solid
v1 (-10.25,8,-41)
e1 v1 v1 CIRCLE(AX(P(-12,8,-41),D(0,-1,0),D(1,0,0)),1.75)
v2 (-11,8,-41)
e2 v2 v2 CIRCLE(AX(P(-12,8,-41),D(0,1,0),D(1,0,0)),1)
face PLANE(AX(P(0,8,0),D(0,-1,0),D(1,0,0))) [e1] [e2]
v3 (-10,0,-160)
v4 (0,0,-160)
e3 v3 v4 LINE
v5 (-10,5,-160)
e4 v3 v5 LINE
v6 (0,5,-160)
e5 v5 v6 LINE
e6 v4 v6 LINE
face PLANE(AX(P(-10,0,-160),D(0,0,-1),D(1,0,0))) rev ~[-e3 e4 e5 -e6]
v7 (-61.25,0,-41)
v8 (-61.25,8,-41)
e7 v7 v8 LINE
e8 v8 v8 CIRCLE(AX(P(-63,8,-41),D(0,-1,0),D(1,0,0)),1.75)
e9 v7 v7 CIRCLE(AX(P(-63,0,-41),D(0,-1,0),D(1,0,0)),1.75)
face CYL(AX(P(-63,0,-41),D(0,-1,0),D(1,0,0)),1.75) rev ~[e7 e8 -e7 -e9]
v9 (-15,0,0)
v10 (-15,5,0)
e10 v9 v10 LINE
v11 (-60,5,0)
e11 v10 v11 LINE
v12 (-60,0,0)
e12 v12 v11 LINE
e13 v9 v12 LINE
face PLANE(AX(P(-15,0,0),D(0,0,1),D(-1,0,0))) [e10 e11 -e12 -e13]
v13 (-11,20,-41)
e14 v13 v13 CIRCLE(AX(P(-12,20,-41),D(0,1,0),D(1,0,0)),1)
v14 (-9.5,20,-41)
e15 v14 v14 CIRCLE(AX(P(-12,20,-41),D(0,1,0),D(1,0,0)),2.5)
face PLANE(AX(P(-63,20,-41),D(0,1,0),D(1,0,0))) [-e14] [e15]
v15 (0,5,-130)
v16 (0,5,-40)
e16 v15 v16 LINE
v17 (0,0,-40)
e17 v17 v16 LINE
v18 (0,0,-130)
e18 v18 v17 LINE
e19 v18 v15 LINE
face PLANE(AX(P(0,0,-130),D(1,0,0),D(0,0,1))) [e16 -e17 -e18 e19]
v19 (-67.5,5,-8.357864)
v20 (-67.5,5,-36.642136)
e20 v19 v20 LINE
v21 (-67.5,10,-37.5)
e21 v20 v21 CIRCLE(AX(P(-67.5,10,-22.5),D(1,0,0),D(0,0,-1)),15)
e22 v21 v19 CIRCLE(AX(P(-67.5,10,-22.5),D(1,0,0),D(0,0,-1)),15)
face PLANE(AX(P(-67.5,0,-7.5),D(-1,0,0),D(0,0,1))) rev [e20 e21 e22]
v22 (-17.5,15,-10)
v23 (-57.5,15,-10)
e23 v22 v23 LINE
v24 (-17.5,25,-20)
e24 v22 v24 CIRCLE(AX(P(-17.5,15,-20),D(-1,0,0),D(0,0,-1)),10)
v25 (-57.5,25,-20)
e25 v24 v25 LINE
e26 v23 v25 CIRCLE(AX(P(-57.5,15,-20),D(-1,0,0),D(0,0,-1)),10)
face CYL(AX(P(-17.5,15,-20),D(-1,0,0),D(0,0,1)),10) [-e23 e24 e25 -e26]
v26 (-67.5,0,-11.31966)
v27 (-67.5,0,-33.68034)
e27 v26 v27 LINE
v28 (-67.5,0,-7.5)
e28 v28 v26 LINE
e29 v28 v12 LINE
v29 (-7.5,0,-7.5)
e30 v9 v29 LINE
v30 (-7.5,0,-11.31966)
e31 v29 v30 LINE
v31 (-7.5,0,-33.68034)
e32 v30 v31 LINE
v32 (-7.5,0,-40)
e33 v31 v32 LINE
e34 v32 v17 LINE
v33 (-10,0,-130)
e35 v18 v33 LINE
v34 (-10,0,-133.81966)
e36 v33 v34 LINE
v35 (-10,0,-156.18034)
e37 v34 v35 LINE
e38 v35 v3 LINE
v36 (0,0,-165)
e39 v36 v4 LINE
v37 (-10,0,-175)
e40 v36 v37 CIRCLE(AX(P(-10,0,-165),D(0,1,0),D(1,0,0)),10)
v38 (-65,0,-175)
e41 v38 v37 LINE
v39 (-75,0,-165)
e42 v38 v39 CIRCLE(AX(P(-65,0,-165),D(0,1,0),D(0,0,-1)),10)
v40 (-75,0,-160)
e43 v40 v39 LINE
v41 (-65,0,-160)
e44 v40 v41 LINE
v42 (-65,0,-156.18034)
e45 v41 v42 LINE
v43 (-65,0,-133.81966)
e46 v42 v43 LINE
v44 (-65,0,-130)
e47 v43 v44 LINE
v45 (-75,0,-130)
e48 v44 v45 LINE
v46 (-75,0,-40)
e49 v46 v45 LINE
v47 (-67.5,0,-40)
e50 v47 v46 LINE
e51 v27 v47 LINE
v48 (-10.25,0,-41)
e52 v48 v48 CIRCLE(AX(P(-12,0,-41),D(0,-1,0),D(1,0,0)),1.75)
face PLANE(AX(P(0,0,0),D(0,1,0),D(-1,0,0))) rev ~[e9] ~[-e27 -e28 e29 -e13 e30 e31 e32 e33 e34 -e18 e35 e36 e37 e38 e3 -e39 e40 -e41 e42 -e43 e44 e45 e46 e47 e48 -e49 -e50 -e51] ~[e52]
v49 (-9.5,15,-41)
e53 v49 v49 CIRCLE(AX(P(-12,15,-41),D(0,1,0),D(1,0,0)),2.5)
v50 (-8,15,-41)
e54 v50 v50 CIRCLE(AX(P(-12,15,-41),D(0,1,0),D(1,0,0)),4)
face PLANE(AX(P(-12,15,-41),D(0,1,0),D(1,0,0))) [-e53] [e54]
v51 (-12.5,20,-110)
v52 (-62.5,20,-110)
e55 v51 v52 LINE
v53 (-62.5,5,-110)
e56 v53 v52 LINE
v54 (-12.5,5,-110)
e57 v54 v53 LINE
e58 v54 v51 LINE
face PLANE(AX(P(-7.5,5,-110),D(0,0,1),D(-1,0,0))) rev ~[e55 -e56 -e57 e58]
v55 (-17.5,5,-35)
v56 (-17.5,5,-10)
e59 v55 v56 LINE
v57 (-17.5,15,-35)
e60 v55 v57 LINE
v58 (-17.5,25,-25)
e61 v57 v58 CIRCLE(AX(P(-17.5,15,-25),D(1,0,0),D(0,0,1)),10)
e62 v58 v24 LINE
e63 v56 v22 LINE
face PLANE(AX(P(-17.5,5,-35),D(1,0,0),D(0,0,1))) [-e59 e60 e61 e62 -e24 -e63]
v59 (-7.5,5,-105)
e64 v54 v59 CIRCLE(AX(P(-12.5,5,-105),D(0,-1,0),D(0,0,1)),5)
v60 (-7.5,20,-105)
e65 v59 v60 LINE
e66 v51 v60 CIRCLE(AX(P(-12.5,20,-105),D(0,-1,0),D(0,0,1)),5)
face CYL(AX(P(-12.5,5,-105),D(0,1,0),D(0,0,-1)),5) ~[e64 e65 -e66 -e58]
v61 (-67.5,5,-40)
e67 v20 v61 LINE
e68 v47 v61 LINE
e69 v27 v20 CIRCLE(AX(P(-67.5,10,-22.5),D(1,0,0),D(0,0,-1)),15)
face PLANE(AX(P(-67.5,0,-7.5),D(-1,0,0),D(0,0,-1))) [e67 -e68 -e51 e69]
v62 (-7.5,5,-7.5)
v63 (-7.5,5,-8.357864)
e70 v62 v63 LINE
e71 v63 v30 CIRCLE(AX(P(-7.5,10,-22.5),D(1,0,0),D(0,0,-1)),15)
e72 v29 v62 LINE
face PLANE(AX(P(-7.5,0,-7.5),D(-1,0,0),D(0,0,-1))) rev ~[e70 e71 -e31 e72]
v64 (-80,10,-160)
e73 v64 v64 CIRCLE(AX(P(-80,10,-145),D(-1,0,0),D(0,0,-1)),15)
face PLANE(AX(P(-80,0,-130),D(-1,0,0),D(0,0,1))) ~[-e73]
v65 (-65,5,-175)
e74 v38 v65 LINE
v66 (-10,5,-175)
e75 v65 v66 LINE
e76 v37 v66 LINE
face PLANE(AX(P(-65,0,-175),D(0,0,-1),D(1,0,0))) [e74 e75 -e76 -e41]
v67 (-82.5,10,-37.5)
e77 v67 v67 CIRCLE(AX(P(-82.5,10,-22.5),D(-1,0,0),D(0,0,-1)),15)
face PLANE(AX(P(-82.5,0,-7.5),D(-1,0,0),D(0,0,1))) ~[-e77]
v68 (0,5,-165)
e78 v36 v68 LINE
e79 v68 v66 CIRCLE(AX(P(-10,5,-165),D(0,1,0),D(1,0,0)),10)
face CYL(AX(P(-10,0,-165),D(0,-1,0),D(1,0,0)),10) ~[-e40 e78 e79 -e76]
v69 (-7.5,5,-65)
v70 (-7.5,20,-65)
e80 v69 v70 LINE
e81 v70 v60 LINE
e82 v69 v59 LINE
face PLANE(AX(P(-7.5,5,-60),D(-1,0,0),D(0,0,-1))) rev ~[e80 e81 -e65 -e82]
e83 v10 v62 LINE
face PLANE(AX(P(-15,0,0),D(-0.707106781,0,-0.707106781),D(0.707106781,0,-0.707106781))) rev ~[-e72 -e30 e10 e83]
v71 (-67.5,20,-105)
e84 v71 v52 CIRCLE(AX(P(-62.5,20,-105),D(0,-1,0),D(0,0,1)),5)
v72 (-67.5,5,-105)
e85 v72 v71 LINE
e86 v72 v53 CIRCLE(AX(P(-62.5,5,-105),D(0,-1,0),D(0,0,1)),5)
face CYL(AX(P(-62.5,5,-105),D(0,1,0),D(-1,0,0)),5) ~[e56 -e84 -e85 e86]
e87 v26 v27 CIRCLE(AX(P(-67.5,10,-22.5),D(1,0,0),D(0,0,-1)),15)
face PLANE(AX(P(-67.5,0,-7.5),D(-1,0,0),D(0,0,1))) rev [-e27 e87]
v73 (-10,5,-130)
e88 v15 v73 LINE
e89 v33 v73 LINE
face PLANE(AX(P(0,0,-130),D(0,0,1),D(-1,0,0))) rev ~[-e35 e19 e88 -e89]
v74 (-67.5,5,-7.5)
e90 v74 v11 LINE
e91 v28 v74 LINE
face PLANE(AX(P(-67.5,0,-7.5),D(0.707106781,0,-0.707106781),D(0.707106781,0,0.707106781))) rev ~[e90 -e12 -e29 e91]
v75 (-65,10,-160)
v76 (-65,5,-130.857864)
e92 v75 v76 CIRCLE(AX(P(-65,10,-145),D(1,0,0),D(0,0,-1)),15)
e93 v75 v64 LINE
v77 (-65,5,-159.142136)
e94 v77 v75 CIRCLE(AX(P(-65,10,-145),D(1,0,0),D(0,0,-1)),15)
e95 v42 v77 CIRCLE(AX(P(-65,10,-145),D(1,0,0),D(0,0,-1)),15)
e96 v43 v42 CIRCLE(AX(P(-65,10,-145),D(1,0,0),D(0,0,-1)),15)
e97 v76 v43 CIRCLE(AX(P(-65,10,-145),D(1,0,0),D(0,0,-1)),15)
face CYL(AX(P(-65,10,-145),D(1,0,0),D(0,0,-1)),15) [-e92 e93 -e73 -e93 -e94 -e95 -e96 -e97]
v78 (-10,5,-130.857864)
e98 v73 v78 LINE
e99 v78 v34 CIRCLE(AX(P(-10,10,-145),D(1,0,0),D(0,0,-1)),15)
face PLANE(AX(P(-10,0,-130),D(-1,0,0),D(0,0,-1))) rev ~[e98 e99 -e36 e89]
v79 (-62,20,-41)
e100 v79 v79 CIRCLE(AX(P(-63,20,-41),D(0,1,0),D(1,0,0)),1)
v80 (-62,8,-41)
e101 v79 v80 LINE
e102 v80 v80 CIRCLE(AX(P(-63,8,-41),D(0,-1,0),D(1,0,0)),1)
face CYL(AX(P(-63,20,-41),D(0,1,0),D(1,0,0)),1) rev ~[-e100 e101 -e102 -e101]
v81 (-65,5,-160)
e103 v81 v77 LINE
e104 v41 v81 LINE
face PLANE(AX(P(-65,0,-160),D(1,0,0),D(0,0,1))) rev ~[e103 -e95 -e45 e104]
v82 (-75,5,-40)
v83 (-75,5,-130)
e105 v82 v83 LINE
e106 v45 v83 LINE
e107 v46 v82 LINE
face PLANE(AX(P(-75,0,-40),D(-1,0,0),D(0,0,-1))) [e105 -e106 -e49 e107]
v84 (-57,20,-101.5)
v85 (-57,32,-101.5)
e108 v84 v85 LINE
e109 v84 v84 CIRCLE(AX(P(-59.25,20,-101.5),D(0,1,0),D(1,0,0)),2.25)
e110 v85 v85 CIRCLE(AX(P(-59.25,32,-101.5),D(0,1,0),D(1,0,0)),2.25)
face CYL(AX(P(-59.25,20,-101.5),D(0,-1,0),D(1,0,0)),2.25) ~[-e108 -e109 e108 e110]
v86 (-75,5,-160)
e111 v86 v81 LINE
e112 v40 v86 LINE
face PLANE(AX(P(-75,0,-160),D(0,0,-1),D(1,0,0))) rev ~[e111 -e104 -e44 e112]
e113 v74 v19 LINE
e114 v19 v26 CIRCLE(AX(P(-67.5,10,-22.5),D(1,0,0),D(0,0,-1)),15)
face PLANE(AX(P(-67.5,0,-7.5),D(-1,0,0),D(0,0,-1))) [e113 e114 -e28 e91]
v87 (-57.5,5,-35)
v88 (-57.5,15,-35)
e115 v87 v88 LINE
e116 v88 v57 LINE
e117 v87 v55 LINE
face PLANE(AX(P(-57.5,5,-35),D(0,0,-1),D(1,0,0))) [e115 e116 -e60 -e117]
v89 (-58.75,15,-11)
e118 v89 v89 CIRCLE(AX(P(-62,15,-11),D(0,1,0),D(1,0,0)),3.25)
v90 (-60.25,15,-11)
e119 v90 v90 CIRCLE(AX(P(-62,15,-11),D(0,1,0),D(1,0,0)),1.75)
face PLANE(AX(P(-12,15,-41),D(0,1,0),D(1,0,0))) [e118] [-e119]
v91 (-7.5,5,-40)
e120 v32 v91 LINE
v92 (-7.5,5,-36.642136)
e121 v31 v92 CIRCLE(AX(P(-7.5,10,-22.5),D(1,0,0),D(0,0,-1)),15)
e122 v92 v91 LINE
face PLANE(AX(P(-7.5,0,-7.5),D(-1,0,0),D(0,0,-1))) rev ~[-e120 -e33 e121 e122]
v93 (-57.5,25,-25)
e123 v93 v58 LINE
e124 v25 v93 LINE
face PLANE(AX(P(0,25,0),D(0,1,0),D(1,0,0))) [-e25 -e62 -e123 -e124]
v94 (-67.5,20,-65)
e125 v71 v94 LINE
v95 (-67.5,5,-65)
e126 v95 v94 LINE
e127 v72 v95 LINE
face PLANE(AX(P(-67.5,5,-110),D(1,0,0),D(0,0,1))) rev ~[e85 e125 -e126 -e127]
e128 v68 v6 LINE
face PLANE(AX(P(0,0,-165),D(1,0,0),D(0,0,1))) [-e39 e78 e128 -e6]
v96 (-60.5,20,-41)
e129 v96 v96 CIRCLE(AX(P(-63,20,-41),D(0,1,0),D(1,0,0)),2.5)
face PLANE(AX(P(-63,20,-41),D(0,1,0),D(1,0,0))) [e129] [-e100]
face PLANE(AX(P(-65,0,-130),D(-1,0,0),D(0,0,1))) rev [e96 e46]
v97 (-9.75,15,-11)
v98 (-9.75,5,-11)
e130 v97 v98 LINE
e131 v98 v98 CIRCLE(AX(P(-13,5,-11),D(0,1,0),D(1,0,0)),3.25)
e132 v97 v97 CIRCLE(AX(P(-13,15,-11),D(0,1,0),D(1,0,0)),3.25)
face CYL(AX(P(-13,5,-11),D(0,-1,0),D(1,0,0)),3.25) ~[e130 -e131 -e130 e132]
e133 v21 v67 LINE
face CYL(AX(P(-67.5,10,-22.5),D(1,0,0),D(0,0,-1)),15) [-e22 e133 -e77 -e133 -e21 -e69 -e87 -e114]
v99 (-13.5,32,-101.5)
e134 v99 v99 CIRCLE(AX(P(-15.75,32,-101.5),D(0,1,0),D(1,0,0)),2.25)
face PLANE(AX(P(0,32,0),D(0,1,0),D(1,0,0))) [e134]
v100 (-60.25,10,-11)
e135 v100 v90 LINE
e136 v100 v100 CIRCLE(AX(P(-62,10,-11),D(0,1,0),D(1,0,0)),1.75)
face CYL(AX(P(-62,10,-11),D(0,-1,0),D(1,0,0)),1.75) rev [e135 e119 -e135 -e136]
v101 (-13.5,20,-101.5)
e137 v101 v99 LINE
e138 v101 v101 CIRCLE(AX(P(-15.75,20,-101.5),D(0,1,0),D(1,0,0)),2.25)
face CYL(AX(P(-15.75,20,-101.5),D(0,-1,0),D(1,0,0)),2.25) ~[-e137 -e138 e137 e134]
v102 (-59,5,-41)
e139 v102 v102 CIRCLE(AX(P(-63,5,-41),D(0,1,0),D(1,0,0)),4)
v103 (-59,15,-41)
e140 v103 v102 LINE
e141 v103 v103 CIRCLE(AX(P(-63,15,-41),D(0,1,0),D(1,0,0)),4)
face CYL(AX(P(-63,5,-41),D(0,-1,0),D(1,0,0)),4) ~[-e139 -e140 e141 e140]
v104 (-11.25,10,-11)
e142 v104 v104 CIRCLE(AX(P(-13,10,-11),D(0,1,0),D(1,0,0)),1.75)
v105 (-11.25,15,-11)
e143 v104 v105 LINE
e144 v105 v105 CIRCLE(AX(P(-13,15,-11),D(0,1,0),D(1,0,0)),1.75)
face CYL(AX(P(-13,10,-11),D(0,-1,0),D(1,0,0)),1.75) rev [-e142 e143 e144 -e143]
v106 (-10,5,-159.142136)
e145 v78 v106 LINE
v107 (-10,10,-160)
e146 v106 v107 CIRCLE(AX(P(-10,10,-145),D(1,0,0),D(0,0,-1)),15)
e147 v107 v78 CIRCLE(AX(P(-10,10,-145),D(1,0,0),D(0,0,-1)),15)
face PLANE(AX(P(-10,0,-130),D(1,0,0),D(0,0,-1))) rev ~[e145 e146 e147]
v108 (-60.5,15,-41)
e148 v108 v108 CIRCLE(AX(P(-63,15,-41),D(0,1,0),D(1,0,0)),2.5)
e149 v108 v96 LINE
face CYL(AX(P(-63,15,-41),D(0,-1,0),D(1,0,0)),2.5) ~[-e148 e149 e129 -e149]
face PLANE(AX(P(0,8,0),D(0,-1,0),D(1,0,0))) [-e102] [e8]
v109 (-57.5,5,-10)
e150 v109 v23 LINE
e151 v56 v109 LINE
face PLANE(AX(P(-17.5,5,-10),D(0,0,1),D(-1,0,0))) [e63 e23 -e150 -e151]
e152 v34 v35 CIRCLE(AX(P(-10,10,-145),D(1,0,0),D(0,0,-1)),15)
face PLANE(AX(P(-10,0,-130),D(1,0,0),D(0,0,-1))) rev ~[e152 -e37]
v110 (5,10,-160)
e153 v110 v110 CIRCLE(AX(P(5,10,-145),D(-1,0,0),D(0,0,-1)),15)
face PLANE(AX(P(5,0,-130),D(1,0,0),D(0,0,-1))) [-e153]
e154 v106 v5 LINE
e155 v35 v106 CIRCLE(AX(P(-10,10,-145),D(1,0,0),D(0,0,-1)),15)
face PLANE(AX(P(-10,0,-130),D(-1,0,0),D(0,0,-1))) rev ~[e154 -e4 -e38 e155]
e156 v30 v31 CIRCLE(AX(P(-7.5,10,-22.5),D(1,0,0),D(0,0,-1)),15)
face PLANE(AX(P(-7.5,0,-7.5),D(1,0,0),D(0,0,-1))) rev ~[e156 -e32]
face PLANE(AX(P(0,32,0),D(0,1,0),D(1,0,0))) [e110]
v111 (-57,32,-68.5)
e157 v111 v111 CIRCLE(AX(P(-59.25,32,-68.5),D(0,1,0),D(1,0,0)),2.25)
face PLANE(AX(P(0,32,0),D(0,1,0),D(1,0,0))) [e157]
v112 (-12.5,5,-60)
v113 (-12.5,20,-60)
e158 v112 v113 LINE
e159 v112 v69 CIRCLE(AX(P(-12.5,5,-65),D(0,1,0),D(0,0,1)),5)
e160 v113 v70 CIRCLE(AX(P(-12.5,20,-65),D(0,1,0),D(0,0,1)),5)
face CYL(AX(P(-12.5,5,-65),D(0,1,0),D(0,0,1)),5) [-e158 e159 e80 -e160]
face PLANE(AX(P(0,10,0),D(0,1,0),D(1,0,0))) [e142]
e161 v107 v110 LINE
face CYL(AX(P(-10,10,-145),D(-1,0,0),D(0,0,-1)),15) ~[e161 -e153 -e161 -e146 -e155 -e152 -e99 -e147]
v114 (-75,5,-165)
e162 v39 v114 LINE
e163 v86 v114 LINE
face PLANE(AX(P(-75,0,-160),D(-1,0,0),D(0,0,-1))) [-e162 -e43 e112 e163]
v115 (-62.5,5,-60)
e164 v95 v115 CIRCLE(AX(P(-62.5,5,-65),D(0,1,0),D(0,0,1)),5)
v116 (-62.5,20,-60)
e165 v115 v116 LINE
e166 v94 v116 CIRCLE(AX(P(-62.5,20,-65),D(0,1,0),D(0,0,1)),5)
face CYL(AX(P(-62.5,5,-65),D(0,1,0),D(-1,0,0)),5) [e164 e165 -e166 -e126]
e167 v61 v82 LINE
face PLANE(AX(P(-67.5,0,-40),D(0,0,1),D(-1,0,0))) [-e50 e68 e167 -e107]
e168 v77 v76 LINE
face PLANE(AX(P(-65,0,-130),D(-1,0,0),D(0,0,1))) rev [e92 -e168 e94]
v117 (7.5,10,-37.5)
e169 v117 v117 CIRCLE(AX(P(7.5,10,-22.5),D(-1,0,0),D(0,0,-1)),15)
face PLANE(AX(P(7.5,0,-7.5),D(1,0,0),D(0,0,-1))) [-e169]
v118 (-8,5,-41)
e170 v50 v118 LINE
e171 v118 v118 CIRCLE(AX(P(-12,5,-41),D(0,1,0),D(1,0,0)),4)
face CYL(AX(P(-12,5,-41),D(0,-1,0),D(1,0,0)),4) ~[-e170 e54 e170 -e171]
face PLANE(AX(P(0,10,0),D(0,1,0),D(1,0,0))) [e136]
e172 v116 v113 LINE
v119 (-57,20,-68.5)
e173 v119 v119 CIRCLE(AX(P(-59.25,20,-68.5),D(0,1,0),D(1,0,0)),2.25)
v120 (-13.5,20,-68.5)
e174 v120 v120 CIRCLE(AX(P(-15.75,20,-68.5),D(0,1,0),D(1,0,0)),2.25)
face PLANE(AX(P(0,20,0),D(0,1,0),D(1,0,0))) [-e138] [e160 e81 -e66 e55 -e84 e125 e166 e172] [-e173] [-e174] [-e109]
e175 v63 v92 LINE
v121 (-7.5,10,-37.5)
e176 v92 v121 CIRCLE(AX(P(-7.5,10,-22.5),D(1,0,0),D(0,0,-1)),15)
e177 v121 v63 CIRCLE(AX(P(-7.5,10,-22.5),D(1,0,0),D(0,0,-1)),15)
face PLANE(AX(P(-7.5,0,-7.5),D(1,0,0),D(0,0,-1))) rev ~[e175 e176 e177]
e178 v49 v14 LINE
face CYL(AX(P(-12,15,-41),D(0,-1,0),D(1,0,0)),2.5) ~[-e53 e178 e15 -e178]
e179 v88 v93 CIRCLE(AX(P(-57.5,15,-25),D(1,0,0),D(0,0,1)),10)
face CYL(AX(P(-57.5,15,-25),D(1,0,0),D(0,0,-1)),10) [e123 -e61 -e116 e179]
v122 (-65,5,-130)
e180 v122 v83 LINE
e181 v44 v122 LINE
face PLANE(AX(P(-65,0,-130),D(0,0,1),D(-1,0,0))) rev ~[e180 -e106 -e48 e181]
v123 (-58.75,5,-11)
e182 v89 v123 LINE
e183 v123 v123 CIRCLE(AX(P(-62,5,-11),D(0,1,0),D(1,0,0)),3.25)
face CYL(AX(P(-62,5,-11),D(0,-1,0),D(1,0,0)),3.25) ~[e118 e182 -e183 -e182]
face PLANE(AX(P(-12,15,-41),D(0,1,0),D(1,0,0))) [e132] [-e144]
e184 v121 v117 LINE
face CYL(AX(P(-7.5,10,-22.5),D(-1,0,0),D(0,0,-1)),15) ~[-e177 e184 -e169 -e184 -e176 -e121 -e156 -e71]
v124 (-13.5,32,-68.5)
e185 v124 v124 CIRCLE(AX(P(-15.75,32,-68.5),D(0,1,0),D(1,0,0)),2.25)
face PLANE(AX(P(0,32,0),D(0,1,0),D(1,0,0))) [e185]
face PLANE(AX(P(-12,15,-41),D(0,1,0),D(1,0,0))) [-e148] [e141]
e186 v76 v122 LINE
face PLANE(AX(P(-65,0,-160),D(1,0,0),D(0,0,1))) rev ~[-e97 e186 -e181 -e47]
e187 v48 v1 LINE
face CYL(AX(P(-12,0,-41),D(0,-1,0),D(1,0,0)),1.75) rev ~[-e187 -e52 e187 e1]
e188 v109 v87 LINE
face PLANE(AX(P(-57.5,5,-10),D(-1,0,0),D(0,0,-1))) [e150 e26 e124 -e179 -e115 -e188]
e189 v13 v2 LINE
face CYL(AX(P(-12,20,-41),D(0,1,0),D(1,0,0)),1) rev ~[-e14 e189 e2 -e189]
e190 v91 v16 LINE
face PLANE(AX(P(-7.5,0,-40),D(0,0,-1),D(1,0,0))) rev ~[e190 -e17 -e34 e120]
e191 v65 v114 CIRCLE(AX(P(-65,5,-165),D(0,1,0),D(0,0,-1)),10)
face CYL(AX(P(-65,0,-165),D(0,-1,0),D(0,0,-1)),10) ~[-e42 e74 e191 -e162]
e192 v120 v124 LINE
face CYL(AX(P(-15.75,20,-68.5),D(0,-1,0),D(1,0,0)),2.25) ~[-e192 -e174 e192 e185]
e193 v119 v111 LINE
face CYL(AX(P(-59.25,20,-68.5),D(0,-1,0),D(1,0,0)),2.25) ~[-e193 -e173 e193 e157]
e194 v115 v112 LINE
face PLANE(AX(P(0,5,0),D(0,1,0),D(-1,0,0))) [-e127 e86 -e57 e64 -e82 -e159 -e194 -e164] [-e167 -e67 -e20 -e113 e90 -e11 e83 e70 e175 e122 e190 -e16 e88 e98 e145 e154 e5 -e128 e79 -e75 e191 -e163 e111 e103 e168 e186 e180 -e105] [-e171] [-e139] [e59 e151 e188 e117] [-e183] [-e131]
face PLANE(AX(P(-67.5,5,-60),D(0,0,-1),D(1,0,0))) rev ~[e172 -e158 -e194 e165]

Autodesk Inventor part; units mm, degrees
ref_plane "XZ Plane" through (0, 0, 0) normal (0, 1, 0) x (-1, 0, 0)
ref_plane "XY Plane" through (0, 0, 0) normal (0, 0, 1) x (1, 0, 0)
sketch "Sketch6" plane through (0, 0, 0) normal (0, 1, 0) x (-1, 0, 0)
  line L0 (15, 0) -> (60, 0)
  line L1 (75, -15) -> (75, -165)
  line L2 (65, -175) -> (10, -175)
  line L3 (0, -165) -> (0, -15)
  line L4 (75, -15) -> (60, 0)
  line L5 (15, 0) -> (0, -15)
  arc A0 (65, -175) -> (75, -165) centre (65, -165) ccw
  arc A1 (0, -165) -> (10, -175) centre (10, -165) ccw
  line L6 (7.5, -7.5) -> (7.5, -40)
  line L7 (7.5, -40) -> (0, -40)
  line L8 (67.5, -7.5) -> (67.5, -40)
  line L9 (67.5, -40) -> (75, -40)
  line L10 (75, -160) -> (65, -160)
  line L11 (65, -160) -> (65, -130)
  line L12 (65, -130) -> (75, -130)
  line L13 (75, -130) -> (75, -160)
  line L14 (0, -130) -> (10, -130)
  line L15 (10, -130) -> (10, -160)
  line L16 (10, -160) -> (0, -160)
  line L17 (0, -160) -> (0, -130)
  point P0 (0, 0)
  point P1 (75, -175)
  point P2 (75, 0)
  point P3 (0, -175)
  point P4 (71.25, -40)
  point P5 (70, -160)
  point P6 (0, -160)
  dimension "d30" = 75
  dimension "d31" = 175
  dimension "d32" = 15
  dimension "d33" = 15
  dimension "d34" = 15
  dimension "d35" = 15
  dimension "d36" = 10
  dimension "d37" = 40
  dimension "d38" = 10
  dimension "d39" = 10
  dimension "d40" = 15
  dimension "d41" = 30
extrude "Extrusion5" add sketch "Sketch6" along normal blind 5 contours L0 L4 L8 L9 L1 L12 L11 L10 A0 L2 A1 L3 L16 L15 L14 L7 L6 L5
sketch "Sketch7" plane through (0, 5, 0) normal (0, 1, 0) x (1, 0, 0)
  line L0 (-67.5, 60) -> (-7.5, 60)
  line L1 (-7.5, 60) -> (-7.5, 110)
  line L2 (-7.5, 110) -> (-67.5, 110)
  line L3 (-67.5, 110) -> (-67.5, 60)
  line L4 (-75, 130) -> (-75, 40) projected
  line L5 (-65, 130) -> (-75, 130) projected
  point P0 (0, 0)
  dimension "d44" = 60
  dimension "d45" = 50
  dimension "d46" = 7.5
  dimension "d47" = 20
extrude "Extrusion6" add sketch "Sketch7" along normal blind 15
sketch "Sketch8" plane through (0, 5, 0) normal (0, 1, 0) x (1, 0, 0)
  line L0 (-57.5, 35) -> (-17.5, 35)
  line L1 (-17.5, 35) -> (-17.5, 10)
  line L2 (-17.5, 10) -> (-57.5, 10)
  line L3 (-57.5, 10) -> (-57.5, 35)
  line L4 (-7.5, 7.5) -> (-7.5, 40) projected
  line L5 (-60, 0) -> (-15, 0) projected
  point P0 (0, 0)
  dimension "d50" = 25
  dimension "d51" = 40
  dimension "d52" = 10
  dimension "d53" = 10
extrude "Extrusion7" add sketch "Sketch8" along normal blind 20
fillet "Fillet2" radius 10 2 edges at (-37.5, 25, -35) (-37.5, 25, -10)
sketch "Sketch9" plane through (-10, 0, -130) normal (1, 0, 0) x (0, 0, -1)
  circle A0 centre (15, 10) radius 15
  line L0 (0, 0) -> (0, 5) projected
  line L1 (0, 0) -> (30, 0) projected
  point P0 (3.8197, 0)
  point P1 (26.1803, 0)
  dimension "d57" = 30
  dimension "d58" = 15
  dimension "d59" = 10
extrude "Extrusion8" add sketch "Sketch9" along normal blind 15
ref_plane "Work Plane1" through (-37.5, 0, 0) normal (1, 0, 0) x (0, 1, 0)
mirror "Mirror1" about plane through (-37.5, 0, 0) normal (1, 0, 0) of "Extrusion8"
sketch "Sketch10" plane through (-7.5, 0, -7.5) normal (1, 0, 0) x (0, 0, -1)
  circle A0 centre (15, 10) radius 15
  line L0 (0, 0) -> (0, 5) projected
  line L1 (0, 0) -> (32.5, 0) projected
  point P0 (-7.5, 0)
  point P1 (3.8197, 0)
  point P2 (26.1803, 0)
  dimension "d66" = 30
  dimension "d67" = 15
  dimension "d68" = 10
extrude "Extrusion9" add sketch "Sketch10" along normal blind 15
mirror "Mirror2" about plane through (-37.5, 0, 0) normal (1, 0, 0) of "Extrusion9"
fillet "Fillet3" radius 5 4 edges at (-7.5, 12.5, -60) (-7.5, 12.5, -110) (-67.5, 12.5, -110) (-67.5, 12.5, -60)
sketch "Sketch12" plane through (0, 20, 0) normal (0, 1, 0) x (1, 0, 0)
  circle A0 centre (-59.25, 68.5) radius 2.25
  circle A1 centre (-59.25, 101.5) radius 2.25
  circle A2 centre (-15.75, 68.5) radius 2.25
  circle A3 centre (-15.75, 101.5) radius 2.25
  line L0 (-62.5, 60) -> (-12.5, 60) projected
  line L1 (-67.5, 105) -> (-67.5, 65) projected
  point P0 (0, 0)
  dimension "d72" = 4.5
  dimension "d73" = 4.5
  dimension "d74" = 4.5
  dimension "d75" = 4.5
  dimension "d76" = 43.5
  dimension "d77" = 33
  dimension "d78" = 8.5
  dimension "d79" = 8.25
extrude "Extrusion10" add sketch "Sketch12" along normal blind 12
sketch "Sketch14" plane through (0, 5, 0) normal (0, 1, 0) x (1, 0, 0)
  circle A0 centre (-63, 41) radius 4
  circle A1 centre (-12, 41) radius 4
  line L0 (0, 40) -> (0, 130) projected
  line L1 (-7.5, 40) -> (0, 40) projected
  circle A2 centre (-62, 11) radius 3.25
  circle A3 centre (-13, 11) radius 3.25
  point P0 (0, 0)
  point P1 (-3.75, 40)
  dimension "d82" = 51
  dimension "d83" = 12
  dimension "d84" = 1
  dimension "d85" = 8
  dimension "d86" = 8
  dimension "d87" = 49
  dimension "d88" = 1
  dimension "d89" = 6.5
  dimension "d90" = 6.5
  dimension "d91" = 30
extrude "Extrusion11" add sketch "Sketch14" along normal blind 5
sketch "Sketch15" plane through (-12, 10, -41) normal (0, 1, 0) x (1, 0, 0)
  circle A0 centre (-51, 0) radius 4 projected
  circle A1 centre (-51, 0) radius 2.5
  circle A2 centre (0, 0) radius 4 projected
  circle A3 centre (0, 0) radius 2.5
  circle A4 centre (-50, -30) radius 3.25 projected
  circle A5 centre (-1, -30) radius 3.25 projected
  circle A6 centre (-51, 0) radius 4
  circle A7 centre (0, 0) radius 4
  circle A8 centre (-1, -30) radius 3.25
  circle A9 centre (-1, -30) radius 1.75
  circle A10 centre (-50, -30) radius 3.25
  circle A11 centre (-50, -30) radius 1.75
  point P0 (12, -41)
  dimension "d94" = 5
  dimension "d95" = 5
  dimension "d96" = 3.5
  dimension "d97" = 3.5
extrude "Extrusion12" add sketch "Sketch15" along normal blind 5 contours A0 | A1 | A2 | A3 | A4 | A5
sketch "Sketch16" plane through (-63, 15, -41) normal (0, 1, 0) x (1, 0, 0)
  circle A0 centre (0, 0) radius 2.5
  circle A1 centre (51, 0) radius 4 projected
  circle A2 centre (51, 0) radius 2.5
  point P0 (63, -41)
  dimension "d100" = 5
  dimension "d101" = 5
extrude "Extrusion13" add sketch "Sketch16" along normal blind 5 contours A0 | A2
sketch "Sketch18" plane through (-63, 20, -41) normal (0, 1, 0) x (1, 0, 0)
  circle A0 centre (0, 0) radius 1
  circle A1 centre (51, 0) radius 2.5 projected
  circle A2 centre (51, 0) radius 4 projected
  circle A3 centre (51, 0) radius 1
  circle A4 centre (0, 0) radius 2.5 projected
  point P0 (63, -41)
  dimension "d104" = 2
  dimension "d105" = 2
extrude "Extrusion14" cut sketch "Sketch18" against normal through all contours A0 | A3
sketch "Sketch19" plane through (0, 0, 0) normal (0, -1, 0) x (1, 0, 0)
  circle A0 centre (-12, -41) radius 1 projected
  circle A1 centre (-63, -41) radius 1 projected
  circle A2 centre (-12, -41) radius 1.75
  circle A3 centre (-63, -41) radius 1.75
  point P0 (0, 0)
  dimension "d108" = 3.5
  dimension "d109" = 3.5
extrude "Extrusion15" cut sketch "Sketch19" against normal blind 8 contours A0 | A2 | A3
equation "\"d33\" = d32"
equation "\"d34\" = d32"
equation "\"d35\" = d34"
properties part number "CarApproximation"
